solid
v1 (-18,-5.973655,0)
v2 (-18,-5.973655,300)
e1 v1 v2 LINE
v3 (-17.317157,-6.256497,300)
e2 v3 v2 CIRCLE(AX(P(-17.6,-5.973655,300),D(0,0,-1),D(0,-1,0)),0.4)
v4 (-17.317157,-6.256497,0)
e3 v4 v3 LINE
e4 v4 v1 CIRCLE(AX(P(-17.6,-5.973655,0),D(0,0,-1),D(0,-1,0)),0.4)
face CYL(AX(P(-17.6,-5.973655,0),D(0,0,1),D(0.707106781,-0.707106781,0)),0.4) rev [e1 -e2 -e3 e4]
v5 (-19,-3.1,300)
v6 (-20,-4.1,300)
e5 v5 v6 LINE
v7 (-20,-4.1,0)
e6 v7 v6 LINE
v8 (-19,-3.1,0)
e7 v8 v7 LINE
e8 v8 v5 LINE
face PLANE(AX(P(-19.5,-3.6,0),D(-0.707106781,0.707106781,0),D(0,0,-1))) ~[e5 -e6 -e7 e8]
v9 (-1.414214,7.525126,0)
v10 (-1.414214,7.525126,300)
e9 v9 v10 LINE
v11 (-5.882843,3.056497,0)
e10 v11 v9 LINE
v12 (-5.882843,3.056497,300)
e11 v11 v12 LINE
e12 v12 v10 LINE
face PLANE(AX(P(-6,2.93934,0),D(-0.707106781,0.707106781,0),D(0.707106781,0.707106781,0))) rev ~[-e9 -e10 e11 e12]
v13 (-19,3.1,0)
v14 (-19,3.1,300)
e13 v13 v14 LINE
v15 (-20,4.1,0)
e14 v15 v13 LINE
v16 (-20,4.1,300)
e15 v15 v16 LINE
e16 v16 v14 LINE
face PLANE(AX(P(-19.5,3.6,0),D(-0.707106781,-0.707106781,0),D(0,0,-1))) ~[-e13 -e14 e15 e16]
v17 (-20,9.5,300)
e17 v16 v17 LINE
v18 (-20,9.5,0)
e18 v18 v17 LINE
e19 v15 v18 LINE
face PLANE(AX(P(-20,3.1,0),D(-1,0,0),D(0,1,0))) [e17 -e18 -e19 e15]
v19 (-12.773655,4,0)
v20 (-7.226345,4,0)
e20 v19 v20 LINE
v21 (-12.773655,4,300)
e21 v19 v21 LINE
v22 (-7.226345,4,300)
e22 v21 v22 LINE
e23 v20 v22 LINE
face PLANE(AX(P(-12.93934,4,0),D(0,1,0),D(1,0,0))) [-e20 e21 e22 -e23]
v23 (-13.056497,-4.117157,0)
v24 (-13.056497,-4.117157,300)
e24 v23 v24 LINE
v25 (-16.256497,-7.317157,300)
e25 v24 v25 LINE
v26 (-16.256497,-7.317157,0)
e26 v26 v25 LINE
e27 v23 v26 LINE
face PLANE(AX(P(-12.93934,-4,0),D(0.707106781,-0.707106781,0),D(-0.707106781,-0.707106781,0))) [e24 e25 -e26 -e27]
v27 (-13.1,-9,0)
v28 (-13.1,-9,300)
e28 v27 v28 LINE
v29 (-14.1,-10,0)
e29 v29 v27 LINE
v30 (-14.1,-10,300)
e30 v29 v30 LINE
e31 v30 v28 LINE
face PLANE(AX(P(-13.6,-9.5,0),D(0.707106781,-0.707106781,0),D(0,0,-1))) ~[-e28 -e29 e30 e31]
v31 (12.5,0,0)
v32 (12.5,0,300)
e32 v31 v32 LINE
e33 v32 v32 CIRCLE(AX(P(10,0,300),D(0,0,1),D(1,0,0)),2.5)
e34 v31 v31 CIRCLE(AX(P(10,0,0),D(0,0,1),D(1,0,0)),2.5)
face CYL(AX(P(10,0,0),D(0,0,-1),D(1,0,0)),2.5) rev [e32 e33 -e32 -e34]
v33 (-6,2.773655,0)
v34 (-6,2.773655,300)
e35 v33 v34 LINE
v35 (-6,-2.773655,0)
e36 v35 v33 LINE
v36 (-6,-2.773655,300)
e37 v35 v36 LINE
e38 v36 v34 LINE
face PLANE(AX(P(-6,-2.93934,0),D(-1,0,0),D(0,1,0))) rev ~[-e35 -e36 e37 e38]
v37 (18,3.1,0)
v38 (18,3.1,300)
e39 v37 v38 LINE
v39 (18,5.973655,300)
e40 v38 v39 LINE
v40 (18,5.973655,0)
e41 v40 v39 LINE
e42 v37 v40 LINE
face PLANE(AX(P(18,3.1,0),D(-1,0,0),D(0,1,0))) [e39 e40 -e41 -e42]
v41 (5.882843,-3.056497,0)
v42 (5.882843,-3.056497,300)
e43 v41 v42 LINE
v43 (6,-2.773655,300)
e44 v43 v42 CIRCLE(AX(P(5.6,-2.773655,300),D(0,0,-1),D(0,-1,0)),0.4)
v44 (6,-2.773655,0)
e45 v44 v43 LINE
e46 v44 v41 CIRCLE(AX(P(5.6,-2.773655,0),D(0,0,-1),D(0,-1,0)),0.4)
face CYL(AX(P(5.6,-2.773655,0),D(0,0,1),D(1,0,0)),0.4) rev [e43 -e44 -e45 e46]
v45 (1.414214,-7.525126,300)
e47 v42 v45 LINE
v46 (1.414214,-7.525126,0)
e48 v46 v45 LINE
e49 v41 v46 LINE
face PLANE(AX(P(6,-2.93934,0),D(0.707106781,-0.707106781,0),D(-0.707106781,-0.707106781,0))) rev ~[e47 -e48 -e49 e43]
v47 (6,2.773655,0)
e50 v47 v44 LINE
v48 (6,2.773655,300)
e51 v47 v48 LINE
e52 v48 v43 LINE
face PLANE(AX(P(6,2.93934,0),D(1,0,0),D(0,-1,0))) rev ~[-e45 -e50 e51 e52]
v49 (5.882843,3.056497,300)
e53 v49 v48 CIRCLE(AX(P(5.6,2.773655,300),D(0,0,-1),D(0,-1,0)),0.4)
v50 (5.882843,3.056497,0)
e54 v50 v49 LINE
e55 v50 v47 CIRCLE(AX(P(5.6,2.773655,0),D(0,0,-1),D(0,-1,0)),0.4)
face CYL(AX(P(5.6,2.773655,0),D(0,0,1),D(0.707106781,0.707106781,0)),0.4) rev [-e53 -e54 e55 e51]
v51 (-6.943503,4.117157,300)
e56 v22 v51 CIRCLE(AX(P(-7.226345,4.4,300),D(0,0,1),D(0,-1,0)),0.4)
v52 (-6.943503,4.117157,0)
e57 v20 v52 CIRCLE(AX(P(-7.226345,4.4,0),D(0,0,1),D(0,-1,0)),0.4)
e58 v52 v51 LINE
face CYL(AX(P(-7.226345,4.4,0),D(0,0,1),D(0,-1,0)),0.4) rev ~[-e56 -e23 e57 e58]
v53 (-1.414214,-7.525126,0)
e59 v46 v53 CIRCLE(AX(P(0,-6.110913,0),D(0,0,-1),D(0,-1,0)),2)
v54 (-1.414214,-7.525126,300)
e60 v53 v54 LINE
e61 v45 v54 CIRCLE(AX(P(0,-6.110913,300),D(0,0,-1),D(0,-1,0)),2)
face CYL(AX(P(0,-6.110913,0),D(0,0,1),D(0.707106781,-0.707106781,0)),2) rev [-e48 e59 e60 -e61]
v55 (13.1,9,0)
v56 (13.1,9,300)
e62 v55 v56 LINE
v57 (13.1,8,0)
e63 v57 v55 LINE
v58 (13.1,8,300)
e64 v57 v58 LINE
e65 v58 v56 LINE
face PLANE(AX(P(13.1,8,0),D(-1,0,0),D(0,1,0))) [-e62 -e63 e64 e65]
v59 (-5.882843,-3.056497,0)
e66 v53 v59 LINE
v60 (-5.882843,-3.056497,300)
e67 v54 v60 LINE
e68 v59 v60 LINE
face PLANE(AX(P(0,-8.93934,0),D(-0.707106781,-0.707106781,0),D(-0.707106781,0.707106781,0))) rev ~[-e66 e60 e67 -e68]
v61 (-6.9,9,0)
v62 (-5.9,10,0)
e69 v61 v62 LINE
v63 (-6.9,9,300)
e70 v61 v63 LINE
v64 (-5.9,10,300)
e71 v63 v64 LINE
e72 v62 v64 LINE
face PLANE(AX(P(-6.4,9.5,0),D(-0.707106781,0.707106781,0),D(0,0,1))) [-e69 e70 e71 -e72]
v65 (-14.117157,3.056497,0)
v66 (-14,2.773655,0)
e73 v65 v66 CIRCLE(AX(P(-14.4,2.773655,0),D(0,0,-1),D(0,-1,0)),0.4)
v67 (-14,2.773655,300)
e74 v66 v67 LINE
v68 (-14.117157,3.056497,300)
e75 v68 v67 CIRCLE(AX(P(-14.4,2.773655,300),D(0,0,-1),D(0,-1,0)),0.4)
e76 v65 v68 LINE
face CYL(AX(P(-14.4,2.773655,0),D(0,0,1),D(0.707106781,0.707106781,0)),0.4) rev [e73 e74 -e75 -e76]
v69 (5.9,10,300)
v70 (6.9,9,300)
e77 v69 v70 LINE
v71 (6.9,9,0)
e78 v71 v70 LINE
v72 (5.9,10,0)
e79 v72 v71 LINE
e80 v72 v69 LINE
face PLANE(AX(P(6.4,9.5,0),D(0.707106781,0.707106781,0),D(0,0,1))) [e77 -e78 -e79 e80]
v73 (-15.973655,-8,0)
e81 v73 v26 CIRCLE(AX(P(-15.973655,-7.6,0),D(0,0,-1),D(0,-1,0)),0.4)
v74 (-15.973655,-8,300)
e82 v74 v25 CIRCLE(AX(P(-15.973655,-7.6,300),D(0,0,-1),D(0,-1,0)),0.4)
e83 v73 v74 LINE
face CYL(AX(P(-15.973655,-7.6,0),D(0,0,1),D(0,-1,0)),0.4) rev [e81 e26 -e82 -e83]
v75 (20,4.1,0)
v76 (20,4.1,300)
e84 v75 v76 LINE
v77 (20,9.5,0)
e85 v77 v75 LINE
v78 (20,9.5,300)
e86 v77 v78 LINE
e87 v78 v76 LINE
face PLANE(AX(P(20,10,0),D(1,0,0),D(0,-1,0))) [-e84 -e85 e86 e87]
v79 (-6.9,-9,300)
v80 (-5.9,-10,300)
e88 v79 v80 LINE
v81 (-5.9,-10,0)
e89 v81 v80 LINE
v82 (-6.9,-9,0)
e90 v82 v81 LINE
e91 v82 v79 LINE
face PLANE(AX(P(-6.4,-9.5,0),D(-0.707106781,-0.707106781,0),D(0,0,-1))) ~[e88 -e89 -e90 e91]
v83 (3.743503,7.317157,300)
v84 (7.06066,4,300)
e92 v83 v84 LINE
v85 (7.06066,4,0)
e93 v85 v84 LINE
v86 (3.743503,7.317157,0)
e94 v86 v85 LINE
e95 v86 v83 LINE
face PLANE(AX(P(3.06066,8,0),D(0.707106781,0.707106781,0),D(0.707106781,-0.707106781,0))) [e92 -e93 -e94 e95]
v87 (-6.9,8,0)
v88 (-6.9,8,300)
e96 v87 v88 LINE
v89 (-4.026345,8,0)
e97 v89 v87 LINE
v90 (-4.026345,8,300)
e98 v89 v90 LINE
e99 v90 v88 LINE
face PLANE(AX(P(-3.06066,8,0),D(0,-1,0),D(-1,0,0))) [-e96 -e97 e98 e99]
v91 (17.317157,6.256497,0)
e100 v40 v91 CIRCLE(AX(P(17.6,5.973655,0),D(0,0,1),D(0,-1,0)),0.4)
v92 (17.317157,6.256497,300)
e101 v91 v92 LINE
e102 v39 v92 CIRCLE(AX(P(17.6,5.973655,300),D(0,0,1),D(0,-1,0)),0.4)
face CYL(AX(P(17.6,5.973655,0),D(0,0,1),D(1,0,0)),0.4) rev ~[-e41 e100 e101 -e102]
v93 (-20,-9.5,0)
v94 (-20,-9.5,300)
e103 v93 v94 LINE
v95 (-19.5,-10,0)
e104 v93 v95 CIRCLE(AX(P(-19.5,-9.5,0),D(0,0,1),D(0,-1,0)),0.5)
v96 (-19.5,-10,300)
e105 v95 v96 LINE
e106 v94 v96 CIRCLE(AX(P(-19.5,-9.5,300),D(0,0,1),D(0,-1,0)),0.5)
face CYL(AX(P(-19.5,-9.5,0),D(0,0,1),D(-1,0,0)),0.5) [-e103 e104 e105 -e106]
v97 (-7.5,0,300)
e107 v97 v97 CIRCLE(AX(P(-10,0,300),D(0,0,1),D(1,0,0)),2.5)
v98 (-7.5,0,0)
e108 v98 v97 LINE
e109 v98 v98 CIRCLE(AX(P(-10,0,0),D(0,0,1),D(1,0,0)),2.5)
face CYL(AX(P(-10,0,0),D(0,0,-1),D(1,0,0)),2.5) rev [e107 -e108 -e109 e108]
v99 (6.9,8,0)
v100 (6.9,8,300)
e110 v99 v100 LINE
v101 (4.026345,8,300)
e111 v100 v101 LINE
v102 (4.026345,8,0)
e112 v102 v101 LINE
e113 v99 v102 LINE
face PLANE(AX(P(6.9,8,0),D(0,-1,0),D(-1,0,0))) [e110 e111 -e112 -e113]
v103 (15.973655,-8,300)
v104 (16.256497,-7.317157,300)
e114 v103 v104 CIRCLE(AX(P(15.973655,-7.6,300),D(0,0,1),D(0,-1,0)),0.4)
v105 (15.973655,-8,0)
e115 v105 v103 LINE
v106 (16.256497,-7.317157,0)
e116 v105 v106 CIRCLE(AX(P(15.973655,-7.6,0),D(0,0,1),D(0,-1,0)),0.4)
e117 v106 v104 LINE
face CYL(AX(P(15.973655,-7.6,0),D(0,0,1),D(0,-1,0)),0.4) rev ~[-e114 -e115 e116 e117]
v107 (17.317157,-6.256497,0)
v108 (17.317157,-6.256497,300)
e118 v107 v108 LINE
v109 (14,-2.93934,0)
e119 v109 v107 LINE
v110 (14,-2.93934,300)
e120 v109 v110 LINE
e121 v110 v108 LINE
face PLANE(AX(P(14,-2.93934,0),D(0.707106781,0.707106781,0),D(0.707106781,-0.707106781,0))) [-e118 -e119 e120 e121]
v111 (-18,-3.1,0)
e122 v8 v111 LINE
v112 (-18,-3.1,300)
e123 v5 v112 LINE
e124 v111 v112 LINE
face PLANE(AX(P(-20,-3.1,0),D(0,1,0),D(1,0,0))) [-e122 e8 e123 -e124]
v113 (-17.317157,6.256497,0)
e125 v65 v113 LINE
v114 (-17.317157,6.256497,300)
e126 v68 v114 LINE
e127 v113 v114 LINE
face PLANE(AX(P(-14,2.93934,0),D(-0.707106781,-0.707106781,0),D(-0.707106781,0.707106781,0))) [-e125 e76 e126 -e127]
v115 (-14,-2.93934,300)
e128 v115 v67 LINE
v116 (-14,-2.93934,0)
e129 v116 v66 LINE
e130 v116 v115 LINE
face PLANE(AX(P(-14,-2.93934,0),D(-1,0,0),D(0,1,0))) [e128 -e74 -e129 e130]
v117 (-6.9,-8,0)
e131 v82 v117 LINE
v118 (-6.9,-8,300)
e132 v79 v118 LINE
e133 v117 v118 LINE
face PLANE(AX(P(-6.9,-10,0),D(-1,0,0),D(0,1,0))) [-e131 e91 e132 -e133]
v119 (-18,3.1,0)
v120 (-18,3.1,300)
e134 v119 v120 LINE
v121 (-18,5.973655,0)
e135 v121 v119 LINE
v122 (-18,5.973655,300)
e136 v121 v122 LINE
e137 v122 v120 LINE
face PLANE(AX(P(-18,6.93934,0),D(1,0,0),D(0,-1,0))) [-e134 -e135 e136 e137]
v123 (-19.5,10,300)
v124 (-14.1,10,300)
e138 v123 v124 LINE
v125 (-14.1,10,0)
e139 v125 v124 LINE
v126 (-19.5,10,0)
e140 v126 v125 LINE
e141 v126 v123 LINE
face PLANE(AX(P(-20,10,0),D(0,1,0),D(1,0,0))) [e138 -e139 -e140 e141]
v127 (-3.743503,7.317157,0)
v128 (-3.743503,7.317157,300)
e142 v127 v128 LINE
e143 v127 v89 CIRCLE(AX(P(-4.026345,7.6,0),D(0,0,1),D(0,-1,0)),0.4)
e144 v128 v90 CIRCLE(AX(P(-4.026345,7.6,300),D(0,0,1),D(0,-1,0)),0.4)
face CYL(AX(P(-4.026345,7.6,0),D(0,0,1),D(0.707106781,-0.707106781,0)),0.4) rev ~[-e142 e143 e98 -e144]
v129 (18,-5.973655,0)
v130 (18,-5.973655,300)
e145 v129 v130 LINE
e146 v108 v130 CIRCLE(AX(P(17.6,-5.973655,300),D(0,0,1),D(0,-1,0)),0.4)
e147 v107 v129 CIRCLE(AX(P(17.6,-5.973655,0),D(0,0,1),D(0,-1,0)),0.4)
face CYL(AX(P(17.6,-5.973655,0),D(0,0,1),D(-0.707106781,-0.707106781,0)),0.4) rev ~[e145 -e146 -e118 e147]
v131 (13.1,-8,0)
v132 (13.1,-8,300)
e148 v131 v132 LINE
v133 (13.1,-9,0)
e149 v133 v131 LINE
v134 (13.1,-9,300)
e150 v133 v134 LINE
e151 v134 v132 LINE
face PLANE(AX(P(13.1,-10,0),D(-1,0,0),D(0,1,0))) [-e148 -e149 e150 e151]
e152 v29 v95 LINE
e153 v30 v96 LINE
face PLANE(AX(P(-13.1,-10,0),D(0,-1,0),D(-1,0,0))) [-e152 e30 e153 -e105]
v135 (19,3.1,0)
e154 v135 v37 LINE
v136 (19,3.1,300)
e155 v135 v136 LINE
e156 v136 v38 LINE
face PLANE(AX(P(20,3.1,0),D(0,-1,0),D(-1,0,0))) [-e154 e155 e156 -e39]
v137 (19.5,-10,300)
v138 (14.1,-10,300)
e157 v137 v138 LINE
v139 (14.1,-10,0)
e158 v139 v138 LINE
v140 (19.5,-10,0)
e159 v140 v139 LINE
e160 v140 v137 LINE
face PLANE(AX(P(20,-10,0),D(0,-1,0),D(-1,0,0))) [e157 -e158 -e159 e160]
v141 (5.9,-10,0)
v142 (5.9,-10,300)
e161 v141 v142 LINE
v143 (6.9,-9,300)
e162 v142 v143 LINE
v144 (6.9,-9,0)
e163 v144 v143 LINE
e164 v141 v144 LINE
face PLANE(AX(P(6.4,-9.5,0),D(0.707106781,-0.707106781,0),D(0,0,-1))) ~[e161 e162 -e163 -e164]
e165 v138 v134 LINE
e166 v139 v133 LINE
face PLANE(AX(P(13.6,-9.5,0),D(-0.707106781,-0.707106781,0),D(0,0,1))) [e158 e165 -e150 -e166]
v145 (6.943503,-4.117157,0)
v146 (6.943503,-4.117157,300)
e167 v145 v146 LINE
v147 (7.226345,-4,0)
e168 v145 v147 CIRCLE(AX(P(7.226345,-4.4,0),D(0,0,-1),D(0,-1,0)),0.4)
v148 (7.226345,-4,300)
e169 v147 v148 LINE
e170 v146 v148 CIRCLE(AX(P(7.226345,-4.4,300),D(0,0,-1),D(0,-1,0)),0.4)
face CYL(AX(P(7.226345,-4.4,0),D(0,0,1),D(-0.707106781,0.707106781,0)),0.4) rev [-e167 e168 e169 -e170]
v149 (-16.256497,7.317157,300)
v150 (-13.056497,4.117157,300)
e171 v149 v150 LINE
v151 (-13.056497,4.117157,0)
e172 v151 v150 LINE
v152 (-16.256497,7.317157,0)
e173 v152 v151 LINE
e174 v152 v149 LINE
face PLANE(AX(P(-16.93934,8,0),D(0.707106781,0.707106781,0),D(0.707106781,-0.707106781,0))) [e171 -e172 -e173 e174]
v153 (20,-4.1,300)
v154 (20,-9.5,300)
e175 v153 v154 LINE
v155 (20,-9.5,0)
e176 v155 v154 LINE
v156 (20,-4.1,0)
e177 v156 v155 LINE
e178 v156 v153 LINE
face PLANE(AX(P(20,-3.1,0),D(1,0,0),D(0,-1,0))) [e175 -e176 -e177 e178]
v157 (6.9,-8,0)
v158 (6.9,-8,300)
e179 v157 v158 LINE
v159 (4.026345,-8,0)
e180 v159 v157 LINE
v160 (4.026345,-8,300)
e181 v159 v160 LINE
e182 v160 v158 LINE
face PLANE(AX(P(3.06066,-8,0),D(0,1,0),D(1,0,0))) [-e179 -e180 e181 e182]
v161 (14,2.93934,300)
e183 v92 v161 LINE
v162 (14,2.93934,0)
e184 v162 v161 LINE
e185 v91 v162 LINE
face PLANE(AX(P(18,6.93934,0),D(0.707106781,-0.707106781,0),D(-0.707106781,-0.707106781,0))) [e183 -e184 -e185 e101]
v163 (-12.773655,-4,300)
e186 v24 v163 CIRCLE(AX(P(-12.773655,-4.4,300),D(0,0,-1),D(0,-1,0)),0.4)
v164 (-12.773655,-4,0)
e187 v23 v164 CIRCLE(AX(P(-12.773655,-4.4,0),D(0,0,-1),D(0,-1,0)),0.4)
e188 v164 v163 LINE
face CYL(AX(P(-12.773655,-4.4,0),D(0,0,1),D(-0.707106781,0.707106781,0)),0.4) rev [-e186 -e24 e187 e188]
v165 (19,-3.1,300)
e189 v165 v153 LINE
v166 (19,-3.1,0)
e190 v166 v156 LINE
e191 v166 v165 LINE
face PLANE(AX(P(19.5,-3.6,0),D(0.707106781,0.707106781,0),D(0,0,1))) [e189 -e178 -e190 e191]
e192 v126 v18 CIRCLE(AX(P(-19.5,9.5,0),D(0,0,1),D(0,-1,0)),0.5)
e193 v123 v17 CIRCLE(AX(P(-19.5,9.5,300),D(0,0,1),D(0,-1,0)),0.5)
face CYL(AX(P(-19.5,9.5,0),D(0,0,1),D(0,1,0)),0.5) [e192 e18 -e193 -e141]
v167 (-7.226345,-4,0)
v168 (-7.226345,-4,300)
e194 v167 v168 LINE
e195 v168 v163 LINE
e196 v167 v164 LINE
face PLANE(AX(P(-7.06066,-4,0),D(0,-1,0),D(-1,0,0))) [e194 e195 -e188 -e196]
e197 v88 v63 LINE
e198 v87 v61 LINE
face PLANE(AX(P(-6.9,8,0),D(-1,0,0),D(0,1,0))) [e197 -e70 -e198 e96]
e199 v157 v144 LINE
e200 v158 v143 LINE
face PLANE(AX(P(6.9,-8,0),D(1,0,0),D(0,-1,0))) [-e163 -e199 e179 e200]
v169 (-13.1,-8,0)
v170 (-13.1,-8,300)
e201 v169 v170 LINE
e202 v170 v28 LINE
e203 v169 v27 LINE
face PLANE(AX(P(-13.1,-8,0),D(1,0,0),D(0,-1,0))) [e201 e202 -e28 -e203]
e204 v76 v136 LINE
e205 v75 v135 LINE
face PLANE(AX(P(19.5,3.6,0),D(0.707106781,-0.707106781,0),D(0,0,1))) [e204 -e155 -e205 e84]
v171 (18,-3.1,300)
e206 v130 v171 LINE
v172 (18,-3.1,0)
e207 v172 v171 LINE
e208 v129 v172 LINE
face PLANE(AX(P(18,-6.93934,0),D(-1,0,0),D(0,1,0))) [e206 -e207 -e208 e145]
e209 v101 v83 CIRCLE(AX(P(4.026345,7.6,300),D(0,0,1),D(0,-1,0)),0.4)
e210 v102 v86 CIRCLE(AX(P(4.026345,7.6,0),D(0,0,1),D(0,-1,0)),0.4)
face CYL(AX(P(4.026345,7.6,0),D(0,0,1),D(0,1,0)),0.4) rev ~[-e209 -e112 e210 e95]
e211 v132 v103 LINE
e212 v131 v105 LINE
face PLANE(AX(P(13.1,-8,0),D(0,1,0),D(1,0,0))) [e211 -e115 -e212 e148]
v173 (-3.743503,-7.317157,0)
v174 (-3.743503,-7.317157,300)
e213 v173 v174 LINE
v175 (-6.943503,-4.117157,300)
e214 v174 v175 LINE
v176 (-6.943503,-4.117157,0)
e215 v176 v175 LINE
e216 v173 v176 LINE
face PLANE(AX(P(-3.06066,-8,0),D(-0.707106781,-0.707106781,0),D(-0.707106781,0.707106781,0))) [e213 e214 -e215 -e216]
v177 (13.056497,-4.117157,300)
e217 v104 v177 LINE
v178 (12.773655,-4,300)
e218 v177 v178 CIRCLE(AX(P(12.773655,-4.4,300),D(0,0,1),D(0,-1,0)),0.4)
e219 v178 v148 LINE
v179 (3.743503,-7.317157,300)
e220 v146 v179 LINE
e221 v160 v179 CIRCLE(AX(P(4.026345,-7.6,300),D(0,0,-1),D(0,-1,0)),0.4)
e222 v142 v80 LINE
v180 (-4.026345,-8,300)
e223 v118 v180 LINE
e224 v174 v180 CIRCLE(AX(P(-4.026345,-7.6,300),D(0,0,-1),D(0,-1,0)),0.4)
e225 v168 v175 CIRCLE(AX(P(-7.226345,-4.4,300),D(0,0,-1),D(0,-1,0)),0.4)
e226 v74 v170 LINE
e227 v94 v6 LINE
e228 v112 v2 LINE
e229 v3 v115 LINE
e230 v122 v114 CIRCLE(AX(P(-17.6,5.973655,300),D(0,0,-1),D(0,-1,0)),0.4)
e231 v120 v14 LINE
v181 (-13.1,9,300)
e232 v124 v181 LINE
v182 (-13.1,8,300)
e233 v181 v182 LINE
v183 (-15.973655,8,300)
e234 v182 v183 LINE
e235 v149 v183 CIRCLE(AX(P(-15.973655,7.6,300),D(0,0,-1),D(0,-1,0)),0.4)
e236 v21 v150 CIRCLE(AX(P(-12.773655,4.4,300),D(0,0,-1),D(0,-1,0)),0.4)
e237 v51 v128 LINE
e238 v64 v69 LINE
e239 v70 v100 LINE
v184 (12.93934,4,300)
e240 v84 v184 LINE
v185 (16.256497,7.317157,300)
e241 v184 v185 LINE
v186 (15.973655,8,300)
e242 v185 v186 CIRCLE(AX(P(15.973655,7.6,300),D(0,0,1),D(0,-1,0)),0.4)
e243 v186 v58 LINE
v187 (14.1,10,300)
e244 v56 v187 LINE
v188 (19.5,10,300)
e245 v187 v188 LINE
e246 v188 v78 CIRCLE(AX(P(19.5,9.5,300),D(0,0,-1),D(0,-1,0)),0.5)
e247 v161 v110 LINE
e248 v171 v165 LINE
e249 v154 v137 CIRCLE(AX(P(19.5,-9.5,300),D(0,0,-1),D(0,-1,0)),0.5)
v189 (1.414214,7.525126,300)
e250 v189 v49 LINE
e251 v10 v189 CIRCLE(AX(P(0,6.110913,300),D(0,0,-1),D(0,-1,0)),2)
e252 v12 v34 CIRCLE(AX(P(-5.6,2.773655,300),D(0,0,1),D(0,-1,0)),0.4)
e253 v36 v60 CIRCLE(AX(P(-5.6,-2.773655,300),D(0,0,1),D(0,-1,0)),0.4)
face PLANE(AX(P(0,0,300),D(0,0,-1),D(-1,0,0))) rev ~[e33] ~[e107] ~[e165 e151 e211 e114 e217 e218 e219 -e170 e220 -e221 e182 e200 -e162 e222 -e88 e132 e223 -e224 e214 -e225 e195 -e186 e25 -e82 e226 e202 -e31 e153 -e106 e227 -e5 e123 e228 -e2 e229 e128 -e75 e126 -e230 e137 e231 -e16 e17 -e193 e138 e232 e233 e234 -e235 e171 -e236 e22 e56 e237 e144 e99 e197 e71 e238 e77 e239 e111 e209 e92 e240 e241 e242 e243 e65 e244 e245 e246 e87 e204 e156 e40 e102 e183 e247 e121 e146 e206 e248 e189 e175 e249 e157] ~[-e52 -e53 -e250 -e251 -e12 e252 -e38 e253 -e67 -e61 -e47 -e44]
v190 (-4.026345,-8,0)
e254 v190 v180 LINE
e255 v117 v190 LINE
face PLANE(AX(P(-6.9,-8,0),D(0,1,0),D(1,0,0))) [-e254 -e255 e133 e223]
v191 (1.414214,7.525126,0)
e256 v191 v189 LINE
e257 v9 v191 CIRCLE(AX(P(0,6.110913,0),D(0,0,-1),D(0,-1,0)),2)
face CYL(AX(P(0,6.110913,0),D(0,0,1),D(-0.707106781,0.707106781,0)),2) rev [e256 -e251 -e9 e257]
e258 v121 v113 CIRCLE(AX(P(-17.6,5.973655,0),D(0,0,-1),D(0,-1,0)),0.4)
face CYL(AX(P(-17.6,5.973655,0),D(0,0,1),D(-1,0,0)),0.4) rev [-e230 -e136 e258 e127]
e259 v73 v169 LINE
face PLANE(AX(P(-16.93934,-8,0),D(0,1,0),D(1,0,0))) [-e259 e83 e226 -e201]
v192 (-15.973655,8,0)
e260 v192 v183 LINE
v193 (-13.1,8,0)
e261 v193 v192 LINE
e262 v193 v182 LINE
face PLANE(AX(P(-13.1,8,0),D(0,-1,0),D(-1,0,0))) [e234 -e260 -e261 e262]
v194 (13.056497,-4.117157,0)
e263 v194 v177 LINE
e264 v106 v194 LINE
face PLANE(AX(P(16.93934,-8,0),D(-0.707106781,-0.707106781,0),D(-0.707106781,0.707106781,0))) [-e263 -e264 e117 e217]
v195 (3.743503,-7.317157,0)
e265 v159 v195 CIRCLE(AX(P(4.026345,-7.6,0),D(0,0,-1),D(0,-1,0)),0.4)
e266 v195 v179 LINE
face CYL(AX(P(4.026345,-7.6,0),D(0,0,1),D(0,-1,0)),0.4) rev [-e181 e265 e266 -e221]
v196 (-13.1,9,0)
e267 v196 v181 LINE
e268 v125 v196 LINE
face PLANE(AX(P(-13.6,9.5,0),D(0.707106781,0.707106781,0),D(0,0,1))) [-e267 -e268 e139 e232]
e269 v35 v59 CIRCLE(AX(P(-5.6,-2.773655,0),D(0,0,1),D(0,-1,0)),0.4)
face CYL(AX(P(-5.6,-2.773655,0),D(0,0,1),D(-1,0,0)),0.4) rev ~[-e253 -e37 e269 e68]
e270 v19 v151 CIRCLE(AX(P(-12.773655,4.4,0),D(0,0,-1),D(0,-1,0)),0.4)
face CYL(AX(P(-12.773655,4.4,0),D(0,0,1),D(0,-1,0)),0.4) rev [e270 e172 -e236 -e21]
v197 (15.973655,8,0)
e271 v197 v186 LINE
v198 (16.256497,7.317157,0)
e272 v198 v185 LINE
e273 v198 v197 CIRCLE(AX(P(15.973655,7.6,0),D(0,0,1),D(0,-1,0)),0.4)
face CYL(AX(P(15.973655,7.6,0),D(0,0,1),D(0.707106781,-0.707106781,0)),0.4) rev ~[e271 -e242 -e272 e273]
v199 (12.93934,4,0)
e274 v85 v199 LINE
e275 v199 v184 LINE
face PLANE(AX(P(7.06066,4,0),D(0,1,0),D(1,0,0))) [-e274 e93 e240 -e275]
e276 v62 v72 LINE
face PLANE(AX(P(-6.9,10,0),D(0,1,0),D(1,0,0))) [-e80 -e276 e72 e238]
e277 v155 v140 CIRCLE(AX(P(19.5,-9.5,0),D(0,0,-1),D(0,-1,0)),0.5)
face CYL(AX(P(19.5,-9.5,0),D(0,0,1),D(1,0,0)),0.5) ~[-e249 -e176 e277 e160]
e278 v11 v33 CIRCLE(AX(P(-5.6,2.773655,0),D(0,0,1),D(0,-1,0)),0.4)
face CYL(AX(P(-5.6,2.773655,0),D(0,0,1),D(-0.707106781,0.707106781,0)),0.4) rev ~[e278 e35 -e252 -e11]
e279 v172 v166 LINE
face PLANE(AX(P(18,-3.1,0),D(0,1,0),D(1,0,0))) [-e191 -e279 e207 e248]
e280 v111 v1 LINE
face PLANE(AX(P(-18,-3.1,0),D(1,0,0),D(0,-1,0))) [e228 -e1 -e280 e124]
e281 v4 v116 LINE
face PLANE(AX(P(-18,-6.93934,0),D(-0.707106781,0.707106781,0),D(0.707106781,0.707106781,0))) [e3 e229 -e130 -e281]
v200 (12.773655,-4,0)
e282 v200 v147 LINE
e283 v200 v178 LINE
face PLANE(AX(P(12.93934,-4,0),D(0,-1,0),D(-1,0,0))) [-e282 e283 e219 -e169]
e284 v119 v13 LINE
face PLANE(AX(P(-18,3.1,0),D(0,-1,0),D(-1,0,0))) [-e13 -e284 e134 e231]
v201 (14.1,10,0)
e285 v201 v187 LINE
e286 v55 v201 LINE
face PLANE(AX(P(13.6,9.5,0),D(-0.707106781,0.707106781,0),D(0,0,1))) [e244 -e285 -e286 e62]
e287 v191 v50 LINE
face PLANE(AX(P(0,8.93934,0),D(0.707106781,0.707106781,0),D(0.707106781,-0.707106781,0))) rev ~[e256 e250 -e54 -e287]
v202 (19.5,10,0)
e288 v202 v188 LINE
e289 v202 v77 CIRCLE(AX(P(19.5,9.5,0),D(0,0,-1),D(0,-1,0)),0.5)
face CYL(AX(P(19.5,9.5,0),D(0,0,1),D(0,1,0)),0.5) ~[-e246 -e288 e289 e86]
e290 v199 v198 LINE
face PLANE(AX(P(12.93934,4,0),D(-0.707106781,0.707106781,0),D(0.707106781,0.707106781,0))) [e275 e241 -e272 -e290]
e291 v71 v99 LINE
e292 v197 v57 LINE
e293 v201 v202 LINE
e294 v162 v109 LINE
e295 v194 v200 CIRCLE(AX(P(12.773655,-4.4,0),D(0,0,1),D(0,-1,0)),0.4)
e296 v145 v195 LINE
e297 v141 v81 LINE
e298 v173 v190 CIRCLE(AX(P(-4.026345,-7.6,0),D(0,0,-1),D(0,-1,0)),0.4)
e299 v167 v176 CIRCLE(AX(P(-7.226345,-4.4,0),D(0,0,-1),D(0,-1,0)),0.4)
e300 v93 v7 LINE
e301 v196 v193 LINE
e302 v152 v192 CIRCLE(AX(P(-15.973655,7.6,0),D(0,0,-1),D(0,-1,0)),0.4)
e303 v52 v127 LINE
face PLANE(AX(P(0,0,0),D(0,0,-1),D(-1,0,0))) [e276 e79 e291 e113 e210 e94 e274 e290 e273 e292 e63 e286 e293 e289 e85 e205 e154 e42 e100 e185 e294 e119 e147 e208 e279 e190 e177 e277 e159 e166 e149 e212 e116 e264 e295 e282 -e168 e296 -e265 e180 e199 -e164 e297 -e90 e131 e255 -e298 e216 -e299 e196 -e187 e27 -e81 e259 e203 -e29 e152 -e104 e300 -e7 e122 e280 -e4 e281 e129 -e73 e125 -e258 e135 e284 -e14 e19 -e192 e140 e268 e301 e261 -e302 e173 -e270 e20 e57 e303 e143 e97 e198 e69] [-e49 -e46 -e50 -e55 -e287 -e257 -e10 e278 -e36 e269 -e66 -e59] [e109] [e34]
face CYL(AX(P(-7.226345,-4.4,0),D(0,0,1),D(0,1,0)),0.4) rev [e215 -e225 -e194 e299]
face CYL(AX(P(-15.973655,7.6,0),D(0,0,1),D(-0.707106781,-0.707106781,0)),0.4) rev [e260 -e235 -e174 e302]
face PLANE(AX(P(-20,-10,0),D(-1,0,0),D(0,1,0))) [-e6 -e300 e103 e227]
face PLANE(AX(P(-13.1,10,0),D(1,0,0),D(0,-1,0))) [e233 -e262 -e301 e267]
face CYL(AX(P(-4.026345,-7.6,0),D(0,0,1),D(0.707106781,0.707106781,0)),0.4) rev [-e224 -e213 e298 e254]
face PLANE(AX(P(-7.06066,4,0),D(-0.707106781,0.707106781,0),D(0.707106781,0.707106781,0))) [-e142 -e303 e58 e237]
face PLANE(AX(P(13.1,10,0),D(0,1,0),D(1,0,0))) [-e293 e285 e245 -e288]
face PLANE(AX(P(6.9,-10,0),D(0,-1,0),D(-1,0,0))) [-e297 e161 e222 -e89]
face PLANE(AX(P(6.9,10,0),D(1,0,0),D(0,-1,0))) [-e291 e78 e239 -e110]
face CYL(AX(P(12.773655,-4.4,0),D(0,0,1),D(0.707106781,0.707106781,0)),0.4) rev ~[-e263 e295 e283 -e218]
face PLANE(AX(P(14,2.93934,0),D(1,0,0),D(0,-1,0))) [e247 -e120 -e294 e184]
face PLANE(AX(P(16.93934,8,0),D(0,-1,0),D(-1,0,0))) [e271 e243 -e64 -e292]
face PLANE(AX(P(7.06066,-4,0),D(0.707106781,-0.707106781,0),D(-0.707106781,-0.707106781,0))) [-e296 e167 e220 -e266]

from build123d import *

# Parameters (mm, degrees)
SKETCH010_R     = 2.5
PAD007_DEPTH    = 300
FILLET008_R     = 2
FILLET009_R     = 0.4
FILLET010_R     = 0.5
CHAMFER002_SIZE = 1


with BuildPart() as part:
    # Sketch010 → Pad007 (new body)
    with BuildSketch(Plane.XY):
        Polygon((-12.93934, 4), (-7.06066, 4), (-3.06066, 8), (-6.9, 8), (-6.9, 10), (6.9, 10), (6.9, 8), (3.06066, 8), (7.06066, 4), (12.93934, 4), (16.93934, 8), (13.1, 8), (13.1, 10), (20, 10), (20, 3.1), (18, 3.1), (18, 6.93934), (14, 2.93934), (14, -2.93934), (18, -6.93934), (18, -3.1), (20, -3.1), (20, -10), (13.1, -10), (13.1, -8), (16.93934, -8), (12.93934, -4), (7.06066, -4), (3.06066, -8), (6.9, -8), (6.9, -10), (-6.9, -10), (-6.9, -8), (-3.06066, -8), (-7.06066, -4), (-12.93934, -4), (-16.93934, -8), (-13.1, -8), (-13.1, -10), (-20, -10), (-20, -3.1), (-18, -3.1), (-18, -6.93934), (-14, -2.93934), (-14, 2.93934), (-18, 6.93934), (-18, 3.1), (-20, 3.1), (-20, 10), (-13.1, 10), (-13.1, 8), (-16.93934, 8), align=None)
        with Locations((-10, 0)):
            Circle(SKETCH010_R, mode=Mode.SUBTRACT)
        with Locations((10, 0)):
            Circle(SKETCH010_R, mode=Mode.SUBTRACT)
        Polygon((-6, -2.93934), (-6, 2.93934), (0, 8.93934), (6, 2.93934), (6, -2.93934), (0, -8.93934), align=None, mode=Mode.SUBTRACT)
    extrude(amount=PAD007_DEPTH)

    # Fillet008
    fillet008_edges = [part.edges().sort_by_distance(p)[0] for p in [
        (0, 8.93934, 150),
        (0, -8.93934, 150),
    ]]
    fillet(fillet008_edges, radius=FILLET008_R)

    # Fillet009
    fillet009_edges = [part.edges().sort_by_distance(p)[0] for p in [
        (-18, 6.93934, 150),
        (-16.93934, 8, 150),
        (-3.06066, 8, 150),
        (-6, 2.93934, 150),
        (-7.06066, 4, 150),
        (-12.93934, 4, 150),
        (-14, 2.93934, 150),
        (-16.93934, -8, 150),
        (-18, -6.93934, 150),
        (-3.06066, -8, 150),
        (3.06066, -8, 150),
        (7.06066, -4, 150),
        (12.93934, -4, 150),
        (-12.93934, -4, 150),
        (-7.06066, -4, 150),
        (3.06066, 8, 150),
        (16.93934, 8, 150),
        (18, 6.93934, 150),
        (18, -6.93934, 150),
        (16.93934, -8, 150),
        (6, 2.93934, 150),
        (6, -2.93934, 150),
        (-6, -2.93934, 150),
    ]]
    fillet(fillet009_edges, radius=FILLET009_R)

    # Fillet010
    fillet010_edges = [part.edges().sort_by_distance(p)[0] for p in [
        (20, -10, 150),
        (20, 10, 150),
        (-20, 10, 150),
        (-20, -10, 150),
    ]]
    fillet(fillet010_edges, radius=FILLET010_R)

    # Chamfer002
    chamfer002_edges = [part.edges().sort_by_distance(p)[0] for p in [
        (20, 3.1, 150),
        (20, -3.1, 150),
        (13.1, 10, 150),
        (6.9, 10, 150),
        (-6.9, 10, 150),
        (-13.1, 10, 150),
        (-20, 3.1, 150),
        (-20, -3.1, 150),
        (-13.1, -10, 150),
        (-6.9, -10, 150),
        (6.9, -10, 150),
        (13.1, -10, 150),
    ]]
    chamfer(chamfer002_edges, length=CHAMFER002_SIZE)


solid = part.part
